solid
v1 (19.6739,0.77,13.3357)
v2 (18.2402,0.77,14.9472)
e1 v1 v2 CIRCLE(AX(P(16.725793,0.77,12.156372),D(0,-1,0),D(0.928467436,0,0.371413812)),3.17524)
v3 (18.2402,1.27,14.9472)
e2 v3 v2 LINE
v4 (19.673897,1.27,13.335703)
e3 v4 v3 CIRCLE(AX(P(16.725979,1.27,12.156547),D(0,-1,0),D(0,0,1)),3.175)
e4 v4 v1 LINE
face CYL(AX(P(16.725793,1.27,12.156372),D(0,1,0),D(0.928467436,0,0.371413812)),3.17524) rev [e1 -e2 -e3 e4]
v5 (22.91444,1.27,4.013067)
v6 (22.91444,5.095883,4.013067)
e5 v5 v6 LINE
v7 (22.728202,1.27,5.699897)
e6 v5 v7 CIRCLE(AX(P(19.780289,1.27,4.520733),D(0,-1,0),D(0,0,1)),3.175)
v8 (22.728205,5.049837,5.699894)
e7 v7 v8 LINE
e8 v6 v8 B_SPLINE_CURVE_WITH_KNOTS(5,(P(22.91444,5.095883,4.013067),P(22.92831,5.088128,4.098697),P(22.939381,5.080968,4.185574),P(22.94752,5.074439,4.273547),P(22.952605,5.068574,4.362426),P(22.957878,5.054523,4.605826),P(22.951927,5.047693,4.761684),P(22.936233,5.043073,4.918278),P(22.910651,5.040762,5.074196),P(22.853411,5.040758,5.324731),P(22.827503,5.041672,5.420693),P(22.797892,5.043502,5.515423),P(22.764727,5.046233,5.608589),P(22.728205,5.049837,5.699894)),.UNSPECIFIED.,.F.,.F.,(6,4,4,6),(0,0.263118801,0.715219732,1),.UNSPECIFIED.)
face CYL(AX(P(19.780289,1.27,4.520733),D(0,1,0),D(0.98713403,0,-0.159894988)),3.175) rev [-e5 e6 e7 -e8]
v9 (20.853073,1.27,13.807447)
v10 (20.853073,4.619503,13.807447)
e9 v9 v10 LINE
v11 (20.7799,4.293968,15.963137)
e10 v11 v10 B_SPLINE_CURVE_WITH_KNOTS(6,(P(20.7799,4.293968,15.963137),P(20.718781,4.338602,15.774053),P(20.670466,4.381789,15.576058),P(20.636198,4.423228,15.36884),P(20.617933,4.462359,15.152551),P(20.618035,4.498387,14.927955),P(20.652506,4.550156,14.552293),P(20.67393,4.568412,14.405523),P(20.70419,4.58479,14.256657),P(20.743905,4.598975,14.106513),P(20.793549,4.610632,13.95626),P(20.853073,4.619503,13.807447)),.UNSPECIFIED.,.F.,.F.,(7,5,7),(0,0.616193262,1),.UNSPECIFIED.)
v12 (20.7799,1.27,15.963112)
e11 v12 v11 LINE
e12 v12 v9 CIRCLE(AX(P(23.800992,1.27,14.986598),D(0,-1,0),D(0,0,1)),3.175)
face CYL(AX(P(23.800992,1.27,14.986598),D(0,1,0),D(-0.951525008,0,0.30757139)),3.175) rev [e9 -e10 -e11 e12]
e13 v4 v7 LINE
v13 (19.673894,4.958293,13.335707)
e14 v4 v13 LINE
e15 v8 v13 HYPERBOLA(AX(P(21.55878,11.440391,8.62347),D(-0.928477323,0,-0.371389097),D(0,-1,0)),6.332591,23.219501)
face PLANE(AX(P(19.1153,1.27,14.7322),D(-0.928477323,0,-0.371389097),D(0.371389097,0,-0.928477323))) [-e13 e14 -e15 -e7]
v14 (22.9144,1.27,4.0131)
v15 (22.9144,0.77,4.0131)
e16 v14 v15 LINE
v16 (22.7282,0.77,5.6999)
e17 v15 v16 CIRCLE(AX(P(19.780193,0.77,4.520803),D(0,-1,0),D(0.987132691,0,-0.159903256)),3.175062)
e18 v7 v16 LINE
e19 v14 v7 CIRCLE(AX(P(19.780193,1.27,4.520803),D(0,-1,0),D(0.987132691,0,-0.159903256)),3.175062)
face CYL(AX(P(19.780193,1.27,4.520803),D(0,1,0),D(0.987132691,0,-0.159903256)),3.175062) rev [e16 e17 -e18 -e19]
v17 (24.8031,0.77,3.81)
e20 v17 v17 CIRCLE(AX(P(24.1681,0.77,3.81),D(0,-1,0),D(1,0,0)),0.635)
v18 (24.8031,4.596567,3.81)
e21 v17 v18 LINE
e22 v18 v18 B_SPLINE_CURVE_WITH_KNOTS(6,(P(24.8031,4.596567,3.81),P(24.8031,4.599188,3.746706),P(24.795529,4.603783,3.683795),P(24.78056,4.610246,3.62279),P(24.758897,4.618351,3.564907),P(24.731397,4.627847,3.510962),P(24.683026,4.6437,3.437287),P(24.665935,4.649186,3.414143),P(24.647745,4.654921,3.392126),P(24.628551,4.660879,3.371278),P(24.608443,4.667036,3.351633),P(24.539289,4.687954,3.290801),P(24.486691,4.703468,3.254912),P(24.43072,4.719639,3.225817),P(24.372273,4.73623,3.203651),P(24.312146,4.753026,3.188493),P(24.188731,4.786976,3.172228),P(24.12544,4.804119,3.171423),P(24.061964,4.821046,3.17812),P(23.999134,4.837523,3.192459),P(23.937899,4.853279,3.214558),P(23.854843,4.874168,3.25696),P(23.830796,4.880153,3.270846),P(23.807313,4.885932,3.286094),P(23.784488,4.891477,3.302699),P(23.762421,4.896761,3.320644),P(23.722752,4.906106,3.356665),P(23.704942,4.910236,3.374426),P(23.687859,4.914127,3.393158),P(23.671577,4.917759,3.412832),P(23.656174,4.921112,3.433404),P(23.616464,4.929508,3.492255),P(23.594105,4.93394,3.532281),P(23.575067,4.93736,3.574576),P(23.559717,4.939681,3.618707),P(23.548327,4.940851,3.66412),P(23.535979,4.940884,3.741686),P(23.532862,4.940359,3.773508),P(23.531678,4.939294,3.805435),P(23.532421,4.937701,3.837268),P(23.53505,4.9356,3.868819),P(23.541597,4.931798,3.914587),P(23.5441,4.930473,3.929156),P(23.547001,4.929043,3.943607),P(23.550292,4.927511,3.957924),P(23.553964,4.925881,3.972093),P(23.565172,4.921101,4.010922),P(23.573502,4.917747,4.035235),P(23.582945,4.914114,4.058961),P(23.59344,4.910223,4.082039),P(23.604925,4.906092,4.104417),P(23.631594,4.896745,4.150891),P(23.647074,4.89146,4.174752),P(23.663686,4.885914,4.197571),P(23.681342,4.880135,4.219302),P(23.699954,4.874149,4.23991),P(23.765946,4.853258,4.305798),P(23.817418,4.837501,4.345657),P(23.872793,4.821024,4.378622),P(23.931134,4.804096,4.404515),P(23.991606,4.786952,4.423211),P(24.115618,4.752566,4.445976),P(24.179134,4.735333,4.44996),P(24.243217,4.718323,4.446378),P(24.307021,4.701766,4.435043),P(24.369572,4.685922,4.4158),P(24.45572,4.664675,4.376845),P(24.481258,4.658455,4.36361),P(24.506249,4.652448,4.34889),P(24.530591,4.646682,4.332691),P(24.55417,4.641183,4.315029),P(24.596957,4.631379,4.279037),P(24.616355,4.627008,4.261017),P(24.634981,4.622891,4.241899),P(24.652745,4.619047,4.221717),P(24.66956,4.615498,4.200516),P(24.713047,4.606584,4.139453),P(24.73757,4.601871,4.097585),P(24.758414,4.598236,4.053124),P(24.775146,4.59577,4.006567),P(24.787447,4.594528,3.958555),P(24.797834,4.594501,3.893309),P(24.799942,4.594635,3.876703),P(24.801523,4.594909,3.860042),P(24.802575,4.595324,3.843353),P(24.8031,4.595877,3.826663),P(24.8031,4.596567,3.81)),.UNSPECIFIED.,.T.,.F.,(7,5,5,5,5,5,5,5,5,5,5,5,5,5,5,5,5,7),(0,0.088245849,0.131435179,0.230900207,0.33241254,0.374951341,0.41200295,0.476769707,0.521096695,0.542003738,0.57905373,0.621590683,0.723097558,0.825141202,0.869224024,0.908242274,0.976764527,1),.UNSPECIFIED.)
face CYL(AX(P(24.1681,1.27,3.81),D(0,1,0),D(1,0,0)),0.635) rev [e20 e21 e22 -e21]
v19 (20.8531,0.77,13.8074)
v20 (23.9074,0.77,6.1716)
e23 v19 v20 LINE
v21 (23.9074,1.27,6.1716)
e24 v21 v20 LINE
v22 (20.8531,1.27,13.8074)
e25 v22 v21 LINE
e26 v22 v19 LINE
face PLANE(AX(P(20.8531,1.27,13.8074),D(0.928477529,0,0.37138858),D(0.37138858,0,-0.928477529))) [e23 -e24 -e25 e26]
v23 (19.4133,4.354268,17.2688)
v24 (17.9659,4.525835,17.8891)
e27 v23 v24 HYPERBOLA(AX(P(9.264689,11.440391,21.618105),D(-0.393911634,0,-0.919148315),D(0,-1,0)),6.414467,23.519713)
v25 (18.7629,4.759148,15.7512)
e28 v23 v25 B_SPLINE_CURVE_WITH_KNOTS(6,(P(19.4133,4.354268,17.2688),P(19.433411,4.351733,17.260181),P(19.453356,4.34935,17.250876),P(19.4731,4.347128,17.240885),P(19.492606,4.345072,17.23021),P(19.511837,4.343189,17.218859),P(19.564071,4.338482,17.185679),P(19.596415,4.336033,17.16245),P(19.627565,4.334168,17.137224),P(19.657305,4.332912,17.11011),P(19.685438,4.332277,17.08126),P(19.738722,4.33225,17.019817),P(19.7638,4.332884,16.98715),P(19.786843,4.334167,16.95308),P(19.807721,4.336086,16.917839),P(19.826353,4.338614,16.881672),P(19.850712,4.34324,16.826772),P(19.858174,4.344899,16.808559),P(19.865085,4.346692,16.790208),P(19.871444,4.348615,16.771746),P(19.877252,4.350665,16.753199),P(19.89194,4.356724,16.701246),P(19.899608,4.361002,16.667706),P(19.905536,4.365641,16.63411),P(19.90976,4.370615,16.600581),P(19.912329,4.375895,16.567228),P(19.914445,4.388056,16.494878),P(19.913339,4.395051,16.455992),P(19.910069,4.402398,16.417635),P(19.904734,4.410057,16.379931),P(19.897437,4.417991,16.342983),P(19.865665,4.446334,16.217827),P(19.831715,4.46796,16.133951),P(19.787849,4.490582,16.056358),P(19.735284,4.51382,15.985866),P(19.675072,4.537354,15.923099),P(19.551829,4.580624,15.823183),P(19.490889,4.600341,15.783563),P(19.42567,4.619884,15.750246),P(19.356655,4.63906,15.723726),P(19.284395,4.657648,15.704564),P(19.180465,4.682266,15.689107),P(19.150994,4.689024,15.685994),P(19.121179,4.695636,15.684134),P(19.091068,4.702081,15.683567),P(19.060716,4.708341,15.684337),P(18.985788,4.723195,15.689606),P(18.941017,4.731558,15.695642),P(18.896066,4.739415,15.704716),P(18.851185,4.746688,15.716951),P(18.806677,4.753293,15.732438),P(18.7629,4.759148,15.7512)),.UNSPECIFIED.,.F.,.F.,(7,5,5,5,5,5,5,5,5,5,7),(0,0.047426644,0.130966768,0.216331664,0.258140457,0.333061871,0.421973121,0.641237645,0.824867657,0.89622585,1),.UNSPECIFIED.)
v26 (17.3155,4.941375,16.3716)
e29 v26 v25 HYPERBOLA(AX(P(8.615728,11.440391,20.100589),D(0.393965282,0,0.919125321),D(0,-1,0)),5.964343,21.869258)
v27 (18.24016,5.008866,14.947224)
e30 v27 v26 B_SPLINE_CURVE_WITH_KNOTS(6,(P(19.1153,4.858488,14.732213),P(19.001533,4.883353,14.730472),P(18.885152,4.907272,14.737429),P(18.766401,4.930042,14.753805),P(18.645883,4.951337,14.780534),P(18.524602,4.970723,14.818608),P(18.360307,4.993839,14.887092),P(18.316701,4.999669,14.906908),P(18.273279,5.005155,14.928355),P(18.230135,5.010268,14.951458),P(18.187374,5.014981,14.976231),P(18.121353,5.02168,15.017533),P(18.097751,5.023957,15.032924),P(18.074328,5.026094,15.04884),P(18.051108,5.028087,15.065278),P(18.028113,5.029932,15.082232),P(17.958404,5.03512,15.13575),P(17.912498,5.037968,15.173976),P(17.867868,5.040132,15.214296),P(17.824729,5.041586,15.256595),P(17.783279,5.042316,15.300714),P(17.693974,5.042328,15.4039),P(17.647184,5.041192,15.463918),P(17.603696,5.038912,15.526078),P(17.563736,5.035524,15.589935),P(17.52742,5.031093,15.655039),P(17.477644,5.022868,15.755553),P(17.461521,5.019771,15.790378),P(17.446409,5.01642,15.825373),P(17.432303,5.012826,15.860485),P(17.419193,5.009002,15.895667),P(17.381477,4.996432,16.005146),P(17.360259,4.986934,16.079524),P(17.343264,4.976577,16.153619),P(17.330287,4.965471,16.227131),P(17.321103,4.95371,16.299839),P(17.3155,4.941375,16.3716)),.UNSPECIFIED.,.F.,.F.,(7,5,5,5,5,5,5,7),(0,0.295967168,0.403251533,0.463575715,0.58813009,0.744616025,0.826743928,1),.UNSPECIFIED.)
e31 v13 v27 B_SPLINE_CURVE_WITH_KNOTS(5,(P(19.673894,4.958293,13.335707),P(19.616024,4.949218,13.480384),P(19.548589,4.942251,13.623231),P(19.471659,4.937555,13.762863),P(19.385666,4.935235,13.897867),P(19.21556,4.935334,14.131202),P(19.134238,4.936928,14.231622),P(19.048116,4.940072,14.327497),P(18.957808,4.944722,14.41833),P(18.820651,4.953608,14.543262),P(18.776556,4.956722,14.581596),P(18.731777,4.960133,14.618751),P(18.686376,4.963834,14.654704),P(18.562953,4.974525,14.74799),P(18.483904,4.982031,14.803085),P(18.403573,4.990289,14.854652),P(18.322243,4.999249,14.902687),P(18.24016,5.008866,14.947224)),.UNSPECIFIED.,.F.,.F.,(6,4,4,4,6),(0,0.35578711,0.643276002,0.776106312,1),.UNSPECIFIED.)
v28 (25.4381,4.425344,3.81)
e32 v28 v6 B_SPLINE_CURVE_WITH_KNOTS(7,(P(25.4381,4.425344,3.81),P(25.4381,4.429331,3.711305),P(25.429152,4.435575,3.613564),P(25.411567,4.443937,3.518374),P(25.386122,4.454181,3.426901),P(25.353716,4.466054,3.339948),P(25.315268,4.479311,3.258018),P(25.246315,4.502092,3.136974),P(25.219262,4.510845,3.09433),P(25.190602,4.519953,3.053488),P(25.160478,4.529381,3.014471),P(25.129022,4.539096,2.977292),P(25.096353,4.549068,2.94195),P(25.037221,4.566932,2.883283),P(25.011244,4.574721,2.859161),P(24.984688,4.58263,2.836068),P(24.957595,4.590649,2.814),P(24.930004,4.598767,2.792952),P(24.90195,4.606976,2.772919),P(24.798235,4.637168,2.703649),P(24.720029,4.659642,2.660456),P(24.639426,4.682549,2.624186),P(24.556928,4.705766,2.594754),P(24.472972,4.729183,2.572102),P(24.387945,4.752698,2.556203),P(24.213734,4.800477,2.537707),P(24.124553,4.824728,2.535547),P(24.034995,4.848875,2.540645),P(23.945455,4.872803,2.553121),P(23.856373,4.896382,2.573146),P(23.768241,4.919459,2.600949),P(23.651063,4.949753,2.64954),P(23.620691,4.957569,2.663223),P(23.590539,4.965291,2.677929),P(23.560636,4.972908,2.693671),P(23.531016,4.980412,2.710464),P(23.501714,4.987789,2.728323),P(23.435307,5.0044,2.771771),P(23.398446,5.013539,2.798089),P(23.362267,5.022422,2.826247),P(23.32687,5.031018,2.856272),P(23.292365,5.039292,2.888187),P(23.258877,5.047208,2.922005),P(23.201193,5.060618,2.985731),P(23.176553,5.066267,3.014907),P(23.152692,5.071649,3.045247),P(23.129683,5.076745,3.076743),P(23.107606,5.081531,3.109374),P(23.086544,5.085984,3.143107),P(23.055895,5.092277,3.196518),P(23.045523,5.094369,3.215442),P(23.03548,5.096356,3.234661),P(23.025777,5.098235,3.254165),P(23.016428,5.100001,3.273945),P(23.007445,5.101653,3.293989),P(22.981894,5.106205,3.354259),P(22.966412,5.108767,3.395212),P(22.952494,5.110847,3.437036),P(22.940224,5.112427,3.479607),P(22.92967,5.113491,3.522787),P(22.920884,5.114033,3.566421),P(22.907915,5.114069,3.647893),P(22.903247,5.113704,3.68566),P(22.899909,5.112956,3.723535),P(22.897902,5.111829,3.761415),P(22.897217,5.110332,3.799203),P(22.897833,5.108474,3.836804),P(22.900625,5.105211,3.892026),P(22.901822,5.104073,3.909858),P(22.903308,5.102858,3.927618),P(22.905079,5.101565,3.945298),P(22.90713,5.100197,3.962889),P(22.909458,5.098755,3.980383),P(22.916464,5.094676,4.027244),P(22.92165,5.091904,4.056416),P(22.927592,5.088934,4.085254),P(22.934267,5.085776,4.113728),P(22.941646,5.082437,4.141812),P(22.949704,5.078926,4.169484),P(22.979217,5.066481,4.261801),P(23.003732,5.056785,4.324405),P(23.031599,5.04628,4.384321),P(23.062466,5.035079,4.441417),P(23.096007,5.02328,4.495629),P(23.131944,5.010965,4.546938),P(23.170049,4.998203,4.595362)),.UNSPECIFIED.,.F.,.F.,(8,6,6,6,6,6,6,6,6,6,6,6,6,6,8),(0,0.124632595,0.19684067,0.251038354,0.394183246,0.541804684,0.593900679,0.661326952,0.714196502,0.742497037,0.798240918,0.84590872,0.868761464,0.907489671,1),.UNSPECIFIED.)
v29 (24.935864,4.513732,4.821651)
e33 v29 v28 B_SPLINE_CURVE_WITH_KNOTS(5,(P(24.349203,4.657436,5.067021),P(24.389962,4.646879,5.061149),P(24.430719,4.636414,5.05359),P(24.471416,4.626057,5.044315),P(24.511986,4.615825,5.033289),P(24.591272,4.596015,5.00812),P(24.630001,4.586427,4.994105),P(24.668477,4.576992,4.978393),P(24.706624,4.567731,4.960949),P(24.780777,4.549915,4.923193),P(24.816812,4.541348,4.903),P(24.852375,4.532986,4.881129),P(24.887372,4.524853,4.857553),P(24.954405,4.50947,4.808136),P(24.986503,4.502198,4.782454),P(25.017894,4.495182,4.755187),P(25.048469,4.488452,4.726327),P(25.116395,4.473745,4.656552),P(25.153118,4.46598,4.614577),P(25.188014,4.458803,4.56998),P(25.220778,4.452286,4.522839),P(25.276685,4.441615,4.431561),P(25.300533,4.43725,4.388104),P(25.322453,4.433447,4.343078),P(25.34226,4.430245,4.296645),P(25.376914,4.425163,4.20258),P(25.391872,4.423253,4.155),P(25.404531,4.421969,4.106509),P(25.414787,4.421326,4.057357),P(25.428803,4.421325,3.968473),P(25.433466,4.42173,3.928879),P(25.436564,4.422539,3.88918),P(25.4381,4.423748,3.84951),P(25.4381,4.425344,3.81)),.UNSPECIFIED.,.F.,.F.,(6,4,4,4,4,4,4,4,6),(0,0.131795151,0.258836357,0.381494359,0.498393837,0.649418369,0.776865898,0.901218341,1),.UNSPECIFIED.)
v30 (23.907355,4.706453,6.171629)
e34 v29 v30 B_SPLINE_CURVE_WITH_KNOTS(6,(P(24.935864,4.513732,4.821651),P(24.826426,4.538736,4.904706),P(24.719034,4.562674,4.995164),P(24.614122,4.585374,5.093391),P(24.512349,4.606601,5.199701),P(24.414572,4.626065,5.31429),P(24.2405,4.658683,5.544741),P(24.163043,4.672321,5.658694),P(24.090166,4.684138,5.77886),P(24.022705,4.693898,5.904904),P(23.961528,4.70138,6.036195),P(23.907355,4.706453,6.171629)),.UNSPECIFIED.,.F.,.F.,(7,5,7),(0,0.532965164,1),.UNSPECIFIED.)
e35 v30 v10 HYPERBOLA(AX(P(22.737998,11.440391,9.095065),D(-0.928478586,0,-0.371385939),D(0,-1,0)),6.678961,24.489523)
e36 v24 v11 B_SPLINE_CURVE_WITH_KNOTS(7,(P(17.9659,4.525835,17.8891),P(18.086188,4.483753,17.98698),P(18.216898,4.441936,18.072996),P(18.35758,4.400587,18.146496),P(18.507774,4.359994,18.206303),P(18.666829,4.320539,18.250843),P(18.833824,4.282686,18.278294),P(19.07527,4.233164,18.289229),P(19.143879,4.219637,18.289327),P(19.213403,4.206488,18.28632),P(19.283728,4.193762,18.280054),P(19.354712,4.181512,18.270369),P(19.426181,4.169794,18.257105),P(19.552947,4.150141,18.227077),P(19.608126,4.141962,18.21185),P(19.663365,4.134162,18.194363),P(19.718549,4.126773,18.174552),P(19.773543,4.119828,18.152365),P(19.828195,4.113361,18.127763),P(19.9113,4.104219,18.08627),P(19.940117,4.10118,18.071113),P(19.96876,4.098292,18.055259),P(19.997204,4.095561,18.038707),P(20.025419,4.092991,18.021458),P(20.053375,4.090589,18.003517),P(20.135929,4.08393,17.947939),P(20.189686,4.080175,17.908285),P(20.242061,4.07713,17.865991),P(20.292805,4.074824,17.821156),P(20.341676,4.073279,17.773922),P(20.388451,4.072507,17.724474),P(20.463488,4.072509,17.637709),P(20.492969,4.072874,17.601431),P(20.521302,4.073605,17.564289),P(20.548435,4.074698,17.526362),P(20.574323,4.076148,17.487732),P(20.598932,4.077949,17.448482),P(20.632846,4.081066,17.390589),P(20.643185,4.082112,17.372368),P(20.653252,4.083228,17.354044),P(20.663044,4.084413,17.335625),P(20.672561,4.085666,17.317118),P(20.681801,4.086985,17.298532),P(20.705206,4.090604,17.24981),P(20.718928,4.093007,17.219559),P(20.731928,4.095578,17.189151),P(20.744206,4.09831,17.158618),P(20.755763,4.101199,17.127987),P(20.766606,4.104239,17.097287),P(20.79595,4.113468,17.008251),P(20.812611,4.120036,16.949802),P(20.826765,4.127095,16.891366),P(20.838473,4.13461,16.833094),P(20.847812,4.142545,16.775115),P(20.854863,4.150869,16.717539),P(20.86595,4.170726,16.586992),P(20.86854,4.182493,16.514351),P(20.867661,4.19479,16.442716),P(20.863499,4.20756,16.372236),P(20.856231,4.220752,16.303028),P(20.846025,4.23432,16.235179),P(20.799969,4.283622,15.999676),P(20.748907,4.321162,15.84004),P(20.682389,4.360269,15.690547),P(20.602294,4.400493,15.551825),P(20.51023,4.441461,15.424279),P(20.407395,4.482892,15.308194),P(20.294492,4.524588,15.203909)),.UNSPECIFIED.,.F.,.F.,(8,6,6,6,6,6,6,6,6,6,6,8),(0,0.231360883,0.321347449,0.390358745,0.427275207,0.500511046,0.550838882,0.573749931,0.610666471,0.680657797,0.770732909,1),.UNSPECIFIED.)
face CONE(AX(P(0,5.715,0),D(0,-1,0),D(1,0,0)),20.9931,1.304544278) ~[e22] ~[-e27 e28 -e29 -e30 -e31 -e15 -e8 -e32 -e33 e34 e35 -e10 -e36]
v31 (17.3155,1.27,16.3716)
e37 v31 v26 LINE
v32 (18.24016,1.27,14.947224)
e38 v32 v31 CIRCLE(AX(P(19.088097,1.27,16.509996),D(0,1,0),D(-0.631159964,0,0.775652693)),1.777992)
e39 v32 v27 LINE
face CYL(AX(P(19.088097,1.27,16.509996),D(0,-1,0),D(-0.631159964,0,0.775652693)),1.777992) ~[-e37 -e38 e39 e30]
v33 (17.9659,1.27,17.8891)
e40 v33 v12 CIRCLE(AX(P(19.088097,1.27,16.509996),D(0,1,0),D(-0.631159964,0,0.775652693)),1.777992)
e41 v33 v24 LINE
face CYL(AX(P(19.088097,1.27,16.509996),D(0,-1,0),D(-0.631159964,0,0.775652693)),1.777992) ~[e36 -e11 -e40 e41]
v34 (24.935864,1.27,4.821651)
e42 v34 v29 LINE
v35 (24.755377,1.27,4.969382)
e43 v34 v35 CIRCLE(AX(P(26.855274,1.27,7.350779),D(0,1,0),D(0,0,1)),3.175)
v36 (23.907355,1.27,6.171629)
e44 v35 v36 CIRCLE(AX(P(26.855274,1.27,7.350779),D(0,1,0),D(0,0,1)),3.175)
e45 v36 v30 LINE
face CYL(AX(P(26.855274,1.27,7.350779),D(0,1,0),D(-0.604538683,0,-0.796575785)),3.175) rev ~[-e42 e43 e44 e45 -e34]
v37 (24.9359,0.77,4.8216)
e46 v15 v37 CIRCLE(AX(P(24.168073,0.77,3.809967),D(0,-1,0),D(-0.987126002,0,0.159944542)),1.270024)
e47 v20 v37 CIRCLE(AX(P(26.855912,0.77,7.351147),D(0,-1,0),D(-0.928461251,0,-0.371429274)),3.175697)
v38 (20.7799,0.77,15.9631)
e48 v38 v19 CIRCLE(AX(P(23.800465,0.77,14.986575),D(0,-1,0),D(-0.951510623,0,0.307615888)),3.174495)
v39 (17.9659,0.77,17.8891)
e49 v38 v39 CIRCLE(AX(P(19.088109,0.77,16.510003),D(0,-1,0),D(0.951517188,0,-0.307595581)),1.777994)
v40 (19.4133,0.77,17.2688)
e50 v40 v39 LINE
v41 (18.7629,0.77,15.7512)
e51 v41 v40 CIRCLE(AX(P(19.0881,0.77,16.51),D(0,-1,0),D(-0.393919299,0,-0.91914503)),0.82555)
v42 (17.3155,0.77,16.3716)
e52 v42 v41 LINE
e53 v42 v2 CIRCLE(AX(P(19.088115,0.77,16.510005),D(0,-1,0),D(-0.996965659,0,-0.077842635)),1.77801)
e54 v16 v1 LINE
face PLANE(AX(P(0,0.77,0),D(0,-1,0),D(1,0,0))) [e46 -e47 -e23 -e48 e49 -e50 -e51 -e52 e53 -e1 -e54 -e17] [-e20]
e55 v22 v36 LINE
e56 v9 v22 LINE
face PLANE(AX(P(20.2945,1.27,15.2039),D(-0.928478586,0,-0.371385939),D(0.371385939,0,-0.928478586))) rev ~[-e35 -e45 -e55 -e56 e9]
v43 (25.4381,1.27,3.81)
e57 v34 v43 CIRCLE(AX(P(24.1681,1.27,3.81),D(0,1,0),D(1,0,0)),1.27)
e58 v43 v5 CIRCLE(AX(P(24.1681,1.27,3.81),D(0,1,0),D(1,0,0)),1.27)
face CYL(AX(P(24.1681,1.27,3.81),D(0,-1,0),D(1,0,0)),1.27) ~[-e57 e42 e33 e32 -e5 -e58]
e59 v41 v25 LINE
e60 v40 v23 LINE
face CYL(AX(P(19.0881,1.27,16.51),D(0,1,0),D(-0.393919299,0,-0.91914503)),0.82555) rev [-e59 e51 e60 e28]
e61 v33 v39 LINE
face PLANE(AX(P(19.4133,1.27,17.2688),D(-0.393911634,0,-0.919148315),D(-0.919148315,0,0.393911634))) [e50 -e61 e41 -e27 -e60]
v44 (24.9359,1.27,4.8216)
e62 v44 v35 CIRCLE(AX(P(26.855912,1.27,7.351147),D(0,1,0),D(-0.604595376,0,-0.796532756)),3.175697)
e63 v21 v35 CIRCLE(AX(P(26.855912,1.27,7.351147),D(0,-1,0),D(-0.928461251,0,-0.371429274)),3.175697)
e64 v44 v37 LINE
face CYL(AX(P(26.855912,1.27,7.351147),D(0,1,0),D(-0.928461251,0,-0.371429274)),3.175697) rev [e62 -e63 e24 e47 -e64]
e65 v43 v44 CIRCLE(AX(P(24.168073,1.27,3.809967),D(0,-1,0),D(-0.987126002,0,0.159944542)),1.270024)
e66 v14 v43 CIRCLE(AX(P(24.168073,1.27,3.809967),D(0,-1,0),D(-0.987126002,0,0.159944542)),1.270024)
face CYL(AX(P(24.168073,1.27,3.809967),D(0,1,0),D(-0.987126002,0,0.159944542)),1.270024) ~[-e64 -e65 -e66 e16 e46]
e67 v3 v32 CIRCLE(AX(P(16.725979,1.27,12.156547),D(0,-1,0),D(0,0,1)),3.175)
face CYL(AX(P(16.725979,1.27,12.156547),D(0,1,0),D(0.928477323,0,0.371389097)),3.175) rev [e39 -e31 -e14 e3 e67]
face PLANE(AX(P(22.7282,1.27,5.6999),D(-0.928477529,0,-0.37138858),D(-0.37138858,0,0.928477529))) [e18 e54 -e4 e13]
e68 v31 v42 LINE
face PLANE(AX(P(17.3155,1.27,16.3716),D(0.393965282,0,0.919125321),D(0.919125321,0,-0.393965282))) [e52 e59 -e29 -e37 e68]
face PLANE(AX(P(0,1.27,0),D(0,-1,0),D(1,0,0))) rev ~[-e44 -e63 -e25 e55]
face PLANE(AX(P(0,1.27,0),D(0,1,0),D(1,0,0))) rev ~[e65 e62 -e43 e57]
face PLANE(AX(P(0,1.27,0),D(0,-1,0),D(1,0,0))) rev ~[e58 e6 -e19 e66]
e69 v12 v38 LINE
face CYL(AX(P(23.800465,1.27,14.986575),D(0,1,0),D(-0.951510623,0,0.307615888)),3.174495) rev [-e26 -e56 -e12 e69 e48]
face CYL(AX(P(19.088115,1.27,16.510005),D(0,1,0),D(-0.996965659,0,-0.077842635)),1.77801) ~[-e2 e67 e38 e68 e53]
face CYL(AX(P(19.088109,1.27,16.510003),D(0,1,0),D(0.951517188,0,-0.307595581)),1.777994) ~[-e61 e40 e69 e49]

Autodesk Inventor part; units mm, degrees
ref_plane "YZ Plane" through (0, 0, 0) normal (1, 0, 0) x (0, 1, 0)
ref_plane "XZ Plane" through (0, 0, 0) normal (0, 1, 0) x (-1, 0, 0)
sketch "Sketch1" plane through (0, 0, 0) normal (0, 0, 1) x (1, 0, 0)
  line L0 (0, 0) -> (0, 8.6646) construction
  line L1 (20.9931, 1.27) -> (20.9931, 5.715)
  line L2 (20.9931, 5.715) -> (27.9781, 3.81)
  line L3 (27.9781, 3.81) -> (27.9781, 0)
  line L4 (27.9781, 0) -> (20.9931, 0)
  line L5 (20.9931, 1.27) -> (18.4531, 1.27)
  line L6 (18.4531, 1.27) -> (18.4531, 0)
  line L7 (18.4531, 0) -> (20.9931, 0)
  dimension "d0" = 20.9931
  dimension "d1" = 4.445
  dimension "d2" = 1.27
  dimension "d3" = 2.54
  dimension "d4" = 3.81
  dimension "d5" = 6.985
revolve "Revolution1" add sketch "Sketch1" angle 360 about axis through (0, 0, 0) along (0, 1, 0)
ref_plane "Work Plane1" through (0, 3.81, 0) normal (0, 1, 0) x (1, 0, 0)
sketch "Sketch2" plane through (0, 0, 0) normal (0, -1, 0) x (1, 0, 0)
  line L0 (0, 0) -> (-45.8206, 0) construction
  circle A0 centre (0, 0) radius 27.9781 projected
  line L1 (-27.6227, 4.445) -> (-30.5181, 2.54)
  line L2 (-30.5181, 2.54) -> (-30.5181, -2.54)
  line L3 (-30.5181, -2.54) -> (-27.6227, -4.445)
  dimension "d7" = 2.54
  dimension "d8" = 8.89
  dimension "d9" = 5.08
extrude "Extrusion1" add sketch "Sketch2" against normal up to surface (3.81 mm away) contours A0 L3 L2 L1
pattern_circular "Circular Pattern1" count 12 over 360 about axis through (0, 1.905, 0) along (0, -1, 0) of "Extrusion1"
sketch "Sketch3" plane through (0, 1.27, 0) normal (0, 1, 0) x (1, 0, 0)
  circle A0 centre (0, 0) radius 18.4531 projected
  circle A1 centre (0, 0) radius 18.4531 projected
  circle A2 centre (0, 0) radius 20.9931 projected
  circle A3 centre (0, 0) radius 20.9931 projected
  arc A4 (-26.1445, 9.9619) -> (-27.6227, 4.445) centre (0, 0) ccw projected
  arc A5 (-27.6227, 4.445) -> (-27.6227, -4.445) centre (0, 0) ccw projected
  arc A6 (-27.6227, -4.445) -> (-26.1445, -9.9619) centre (0, 0) ccw projected
  arc A7 (-26.1445, -9.9619) -> (-21.6995, -17.6609) centre (0, 0) ccw projected
  arc A8 (-21.6995, -17.6609) -> (-17.6609, -21.6995) centre (0, 0) ccw projected
  arc A9 (-17.6609, -21.6995) -> (-9.9619, -26.1445) centre (0, 0) ccw projected
  arc A10 (-9.9619, -26.1445) -> (-4.445, -27.6227) centre (0, 0) ccw projected
  arc A11 (-4.445, -27.6227) -> (4.445, -27.6227) centre (0, 0) ccw projected
  arc A12 (4.445, -27.6227) -> (9.9619, -26.1445) centre (0, 0) ccw projected
  arc A13 (9.9619, -26.1445) -> (17.6609, -21.6995) centre (0, 0) ccw projected
  arc A14 (17.6609, -21.6995) -> (21.6995, -17.6609) centre (0, 0) ccw projected
  arc A15 (21.6995, -17.6609) -> (26.1445, -9.9619) centre (0, 0) ccw projected
  arc A16 (26.1445, -9.9619) -> (27.6227, -4.445) centre (0, 0) ccw projected
  arc A17 (27.6227, -4.445) -> (27.6227, 4.445) centre (0, 0) ccw projected
  arc A18 (27.6227, 4.445) -> (26.1445, 9.9619) centre (0, 0) ccw projected
  arc A19 (26.1445, 9.9619) -> (21.6995, 17.6609) centre (0, 0) ccw projected
  arc A20 (21.6995, 17.6609) -> (17.6609, 21.6995) centre (0, 0) ccw projected
  arc A21 (17.6609, 21.6995) -> (9.9619, 26.1445) centre (0, 0) ccw projected
  arc A22 (9.9619, 26.1445) -> (4.445, 27.6227) centre (0, 0) ccw projected
  arc A23 (4.445, 27.6227) -> (-4.445, 27.6227) centre (0, 0) ccw projected
  arc A24 (-4.445, 27.6227) -> (-9.9619, 26.1445) centre (0, 0) ccw projected
  arc A25 (-9.9619, 26.1445) -> (-17.6609, 21.6995) centre (0, 0) ccw projected
  arc A26 (-17.6609, 21.6995) -> (-21.6995, 17.6609) centre (0, 0) ccw projected
  arc A27 (-21.6995, 17.6609) -> (-26.1445, 9.9619) centre (0, 0) ccw projected
  circle A28 centre (0, 0) radius 22.8981
  spline S0 degree 2 poles (-20.4865, -10.8927) (-20.2314, -10.7347) (-20.0767, -10.9844) knots 0 0 0 1 1 1
  spline S1 degree 2 poles (-20.0767, -10.9844) (-19.9219, -11.2342) (-20.177, -11.3922) knots 0 0 0 1 1 1
  line L0 (-20.177, -11.3922) -> (-22.4984, -12.8306)
  line L1 (-22.4984, -12.8306) -> (-21.0657, -12.8234)
  spline S2 degree 2 poles (-21.0657, -12.8234) (-20.8353, -12.8371) (-20.7343, -13.0001) knots 0 0 0 1 1 1
  spline S3 degree 2 poles (-20.7343, -13.0001) (-20.6366, -13.1578) (-20.7235, -13.3463) knots 0 0 0 1 1 1
  line L2 (-20.7235, -13.3463) -> (-21.4078, -14.6436)
  line L3 (-21.4078, -14.6436) -> (-19.0627, -13.1905)
  spline S4 degree 2 poles (-19.0627, -13.1905) (-18.8077, -13.0325) (-18.6529, -13.2822) knots 0 0 0 1 1 1
  spline S5 degree 2 poles (-18.6529, -13.2822) (-18.4949, -13.5373) (-18.7499, -13.6953) knots 0 0 0 1 1 1
  line L4 (-18.7499, -13.6953) -> (-21.6577, -15.497)
  spline S6 degree 2 poles (-21.6577, -15.497) (-21.9259, -15.6631) (-22.0936, -15.3923) knots 0 0 0 1 1 1
  spline S7 degree 2 poles (-22.0936, -15.3923) (-22.2093, -15.2057) (-22.1246, -15.0076) knots 0 0 0 1 1 1
  line L5 (-22.1246, -15.0076) -> (-21.3965, -13.3994)
  line L6 (-21.3965, -13.3994) -> (-23.1279, -13.3298)
  spline S8 degree 2 poles (-23.1279, -13.3298) (-23.414, -13.3142) (-23.5248, -13.1355) knots 0 0 0 1 1 1
  spline S9 degree 2 poles (-23.5248, -13.1355) (-23.5932, -13.025) (-23.5178, -12.7709) (-23.3942, -12.6944) knots 0 0 0 1 2 2 2
  line L7 (-23.3942, -12.6944) -> (-20.4865, -10.8927)
  line L8 (-21.4115, -8.1592) -> (-20.6563, -9.942)
  line L9 (-20.6563, -9.942) -> (-23.6894, -11.2268)
  line L10 (-23.6894, -11.2268) -> (-24.4445, -9.444)
  spline S10 degree 2 poles (-24.4445, -9.444) (-24.5591, -9.1734) (-24.2914, -9.06) knots 0 0 0 1 1 1
  spline S11 degree 2 poles (-24.2914, -9.06) (-24.0209, -8.9454) (-23.9063, -9.216) knots 0 0 0 1 1 1
  line L11 (-23.9063, -9.216) -> (-23.3743, -10.4719)
  line L12 (-23.3743, -10.4719) -> (-22.8189, -10.2367)
  line L13 (-22.8189, -10.2367) -> (-23.3171, -9.0605)
  spline S12 degree 2 poles (-23.3171, -9.0605) (-23.4293, -8.7956) (-23.1616, -8.6822) knots 0 0 0 1 1 1
  spline S13 degree 2 poles (-23.1616, -8.6822) (-22.8854, -8.5652) (-22.7732, -8.8301) knots 0 0 0 1 1 1
  line L14 (-22.7732, -8.8301) -> (-22.275, -10.0063)
  line L15 (-22.275, -10.0063) -> (-21.4235, -9.6456)
  line L16 (-21.4235, -9.6456) -> (-21.9554, -8.3897)
  spline S14 degree 2 poles (-21.9554, -8.3897) (-22.07, -8.1191) (-21.8023, -8.0057) knots 0 0 0 1 1 1
  spline S15 degree 2 poles (-21.8023, -8.0057) (-21.5261, -7.8887) (-21.4115, -8.1592) knots 0 0 0 1 1 1
  spline S16 degree 2 poles (-22.8056, -5.2377) (-22.4484, -5.3877) (-22.1014, -5.7752) (-22.015, -6.0818) knots 0 0 0 1 2 2 2
  spline S17 degree 2 poles (-22.015, -6.0818) (-21.8732, -6.5849) (-22.313, -7.0655) knots 0 0 0 1 1 1
  spline S18 degree 2 poles (-22.313, -7.0655) (-22.5945, -7.4918) (-23.3387, -7.7016) knots 0 0 0 1 1 1
  spline S19 degree 2 poles (-23.3387, -7.7016) (-24.1544, -7.9314) (-24.69, -7.6614) knots 0 0 0 1 1 1
  spline S20 degree 2 poles (-24.69, -7.6614) (-25.1213, -7.4423) (-25.2479, -6.9928) knots 0 0 0 1 1 1
  spline S21 degree 2 poles (-25.2479, -6.9928) (-25.3444, -6.6505) (-25.2198, -6.1462) (-24.9563, -5.8953) knots 0 0 0 1 2 2 2
  spline S22 degree 2 poles (-24.9563, -5.8953) (-24.9018, -5.8381) (-24.8303, -5.818) knots 0 0 0 1 1 1
  spline S23 degree 2 poles (-24.8303, -5.818) (-24.7112, -5.7844) (-24.4997, -5.908) (-24.4678, -6.0211) knots 0 0 0 1 2 2 2
  spline S24 degree 2 poles (-24.4678, -6.0211) (-24.4242, -6.1759) (-24.5806, -6.3164) knots 0 0 0 1 1 1
  spline S25 degree 2 poles (-24.5806, -6.3164) (-24.7683, -6.517) (-24.6827, -6.8207) knots 0 0 0 1 1 1
  spline S26 degree 2 poles (-24.6827, -6.8207) (-24.6139, -7.0648) (-24.3475, -7.1664) knots 0 0 0 1 1 1
  spline S27 degree 2 poles (-24.3475, -7.1664) (-24.0157, -7.2947) (-23.4948, -7.1479) knots 0 0 0 1 1 1
  spline S28 degree 2 poles (-23.4948, -7.1479) (-23.0095, -7.0111) (-22.5148, -6.4861) (-22.587, -6.2301) knots 0 0 0 1 2 2 2
  spline S29 degree 2 poles (-22.587, -6.2301) (-22.6767, -5.9116) (-22.9983, -5.774) knots 0 0 0 1 1 1
  spline S30 degree 2 poles (-22.9983, -5.774) (-23.1807, -5.7194) (-23.2168, -5.5914) knots 0 0 0 1 1 1
  spline S31 degree 2 poles (-23.2168, -5.5914) (-23.2487, -5.4783) (-23.1196, -5.2523) (-23.0064, -5.2204) knots 0 0 0 1 2 2 2
  spline S32 degree 2 poles (-23.0064, -5.2204) (-22.9082, -5.1928) (-22.8056, -5.2377) knots 0 0 0 1 1 1
  spline S33 degree 2 poles (-23.0841, -2.194) (-22.7873, -2.1504) (-22.7455, -2.435) knots 0 0 0 1 1 1
  spline S34 degree 2 poles (-22.7455, -2.435) (-22.7028, -2.7257) (-22.9996, -2.7693) knots 0 0 0 1 1 1
  line L17 (-22.9996, -2.7693) -> (-24.1563, -2.9392)
  line L18 (-24.1563, -2.9392) -> (-23.9877, -4.0867)
  line L19 (-23.9877, -4.0867) -> (-22.8311, -3.9168)
  spline S35 degree 2 poles (-22.8311, -3.9168) (-22.5342, -3.8732) (-22.4915, -4.1639) knots 0 0 0 1 1 1
  spline S36 degree 2 poles (-22.4915, -4.1639) (-22.4488, -4.4546) (-22.7456, -4.4982) knots 0 0 0 1 1 1
  line L20 (-22.7456, -4.4982) -> (-25.4599, -4.8969)
  spline S37 degree 2 poles (-25.4599, -4.8969) (-25.7536, -4.9401) (-25.7963, -4.6494) knots 0 0 0 1 1 1
  spline S38 degree 2 poles (-25.7963, -4.6494) (-25.839, -4.3587) (-25.5453, -4.3155) knots 0 0 0 1 1 1
  line L21 (-25.5453, -4.3155) -> (-24.5722, -4.1726)
  line L22 (-24.5722, -4.1726) -> (-24.7408, -3.0251)
  line L23 (-24.7408, -3.0251) -> (-25.7139, -3.168)
  spline S39 degree 2 poles (-25.7139, -3.168) (-26.0076, -3.2112) (-26.0503, -2.9205) knots 0 0 0 1 1 1
  spline S40 degree 2 poles (-26.0503, -2.9205) (-26.0921, -2.6359) (-25.7984, -2.5928) knots 0 0 0 1 1 1
  line L24 (-25.7984, -2.5928) -> (-23.0841, -2.194)
  spline S41 degree 2 poles (-23.2836, 1.208) (-23.2064, 1.2364) (-23.1539, 1.2367) knots 0 0 0 1 1 1
  spline S42 degree 2 poles (-23.1539, 1.2367) (-23.0302, 1.2375) (-22.8651, 1.053) (-22.8643, 0.9323) knots 0 0 0 1 2 2 2
  spline S43 degree 2 poles (-22.8643, 0.9323) (-22.8631, 0.7437) (-23.042, 0.6683) knots 0 0 0 1 1 1
  line L25 (-23.042, 0.6683) -> (-23.4523, 0.5049)
  line L26 (-23.4523, 0.5049) -> (-23.4439, -0.8127)
  line L27 (-23.4439, -0.8127) -> (-23.0192, -0.9677)
  spline S44 degree 2 poles (-23.0192, -0.9677) (-22.8518, -1.0347) (-22.8505, -1.2295) knots 0 0 0 1 1 1
  spline S45 degree 2 poles (-22.8505, -1.2295) (-22.8498, -1.3439) (-23.0064, -1.5305) (-23.1301, -1.5313) knots 0 0 0 1 2 2 2
  spline S46 degree 2 poles (-23.1301, -1.5313) (-23.1826, -1.5316) (-23.2322, -1.5134) knots 0 0 0 1 1 1
  line L28 (-23.2322, -1.5134) -> (-26.0565, -0.4767)
  spline S47 degree 2 poles (-26.0565, -0.4767) (-26.2212, -0.3571) (-26.2222, -0.1963) knots 0 0 0 1 1 1
  spline S48 degree 2 poles (-26.2222, -0.1963) (-26.2233, -0.0262) (-26.0632, 0.0924) knots 0 0 0 1 1 1
  line L29 (-26.0632, 0.0924) -> (-23.2836, 1.208)
  line L30 (-24.0233, 0.3126) -> (-25.2852, -0.1749)
  line L31 (-25.2852, -0.1749) -> (-24.0173, -0.6307)
  line L32 (-24.0173, -0.6307) -> (-24.0233, 0.3126)
  spline S49 degree 2 poles (-22.7917, 4.2665) (-22.4883, 4.2255) (-22.5223, 3.9742) knots 0 0 0 1 1 1
  spline S50 degree 2 poles (-22.5223, 3.9742) (-22.5451, 3.8056) (-22.7963, 3.7022) knots 0 0 0 1 1 1
  line L33 (-22.7963, 3.7022) -> (-24.9996, 2.6644)
  line L34 (-24.9996, 2.6644) -> (-23.038, 2.3991)
  spline S51 degree 2 poles (-23.038, 2.3991) (-22.7407, 2.3589) (-22.7793, 2.0739) knots 0 0 0 1 1 1
  spline S52 degree 2 poles (-22.7793, 2.0739) (-22.8178, 1.7888) (-23.1151, 1.8291) knots 0 0 0 1 1 1
  line L35 (-23.1151, 1.8291) -> (-25.8582, 2.2)
  spline S53 degree 2 poles (-25.8582, 2.2) (-26.1463, 2.239) (-26.109, 2.5148) knots 0 0 0 1 1 1
  spline S54 degree 2 poles (-26.109, 2.5148) (-26.0867, 2.6803) (-25.9475, 2.6709) knots 0 0 0 1 1 1
  line L36 (-25.9475, 2.6709) -> (-23.6718, 3.805)
  line L37 (-23.6718, 3.805) -> (-25.5813, 4.0632)
  spline S55 degree 2 poles (-25.5813, 4.0632) (-25.8755, 4.103) (-25.837, 4.3881) knots 0 0 0 1 1 1
  spline S56 degree 2 poles (-25.837, 4.3881) (-25.7984, 4.6731) (-25.5042, 4.6333) knots 0 0 0 1 1 1
  line L38 (-25.5042, 4.6333) -> (-22.7917, 4.2665)
  spline S57 degree 2 poles (-22.4654, 5.6266) (-22.1736, 5.5569) (-22.2419, 5.2711) knots 0 0 0 1 1 1
  spline S58 degree 2 poles (-22.2419, 5.2711) (-22.3101, 4.9853) (-22.6019, 5.055) knots 0 0 0 1 1 1
  line L39 (-22.6019, 5.055) -> (-25.2702, 5.6925)
  spline S59 degree 2 poles (-25.2702, 5.6925) (-25.559, 5.7615) (-25.4907, 6.0473) knots 0 0 0 1 1 1
  spline S60 degree 2 poles (-25.4907, 6.0473) (-25.4224, 6.3331) (-25.1336, 6.2641) knots 0 0 0 1 1 1
  line L40 (-25.1336, 6.2641) -> (-22.4654, 5.6266)
  spline S61 degree 2 poles (-21.7348, 8.6674) (-21.5264, 8.3409) (-21.4615, 7.8248) (-21.5649, 7.5235) knots 0 0 0 1 2 2 2
  spline S62 degree 2 poles (-21.5649, 7.5235) (-21.7346, 7.0291) (-22.3696, 6.8841) knots 0 0 0 1 1 1
  spline S63 degree 2 poles (-22.3696, 6.8841) (-22.8437, 6.6936) (-23.5751, 6.9445) knots 0 0 0 1 1 1
  spline S64 degree 2 poles (-23.5751, 6.9445) (-24.3766, 7.2196) (-24.6635, 7.7463) knots 0 0 0 1 1 1
  spline S65 degree 2 poles (-24.6635, 7.7463) (-24.8935, 8.1719) (-24.7419, 8.6136) knots 0 0 0 1 1 1
  spline S66 degree 2 poles (-24.7419, 8.6136) (-24.6265, 8.95) (-24.2371, 9.2938) (-23.8777, 9.3503) knots 0 0 0 1 2 2 2
  spline S67 degree 2 poles (-23.8777, 9.3503) (-23.8003, 9.3663) (-23.7301, 9.3422) knots 0 0 0 1 1 1
  spline S68 degree 2 poles (-23.7301, 9.3422) (-23.6131, 9.3021) (-23.5094, 9.0801) (-23.5475, 8.9689) knots 0 0 0 1 2 2 2
  spline S69 degree 2 poles (-23.5475, 8.9689) (-23.5997, 8.8168) (-23.8083, 8.7903) knots 0 0 0 1 1 1
  spline S70 degree 2 poles (-23.8083, 8.7903) (-24.0768, 8.732) (-24.1792, 8.4336) knots 0 0 0 1 1 1
  spline S71 degree 2 poles (-24.1792, 8.4336) (-24.2615, 8.1937) (-24.1002, 7.9585) knots 0 0 0 1 1 1
  spline S72 degree 2 poles (-24.1002, 7.9585) (-23.9003, 7.6643) (-23.3884, 7.4887) knots 0 0 0 1 1 1
  spline S73 degree 2 poles (-23.3884, 7.4887) (-22.9115, 7.3251) (-22.206, 7.4754) (-22.1197, 7.7269) knots 0 0 0 1 2 2 2
  spline S74 degree 2 poles (-22.1197, 7.7269) (-22.0123, 8.04) (-22.1984, 8.336) knots 0 0 0 1 1 1
  spline S75 degree 2 poles (-22.1984, 8.336) (-22.3174, 8.4847) (-22.2743, 8.6105) knots 0 0 0 1 1 1
  spline S76 degree 2 poles (-22.2743, 8.6105) (-22.2361, 8.7217) (-22.0014, 8.8341) (-21.8902, 8.7959) knots 0 0 0 1 2 2 2
  spline S77 degree 2 poles (-21.8902, 8.7959) (-21.7937, 8.7628) (-21.7348, 8.6674) knots 0 0 0 1 1 1
  spline S78 degree 2 poles (-20.1702, 11.694) (-20.0886, 11.684) (-20.0417, 11.6603) knots 0 0 0 1 1 1
  spline S79 degree 2 poles (-20.0417, 11.6603) (-19.9312, 11.6046) (-19.8684, 11.3651) (-19.9228, 11.2574) knots 0 0 0 1 2 2 2
  spline S80 degree 2 poles (-19.9228, 11.2574) (-20.0077, 11.0889) (-20.2013, 11.1035) knots 0 0 0 1 1 1
  line L41 (-20.2013, 11.1035) -> (-20.641, 11.1451)
  line L42 (-20.641, 11.1451) -> (-21.2344, 9.9688)
  line L43 (-21.2344, 9.9688) -> (-20.9272, 9.6371)
  spline S81 degree 2 poles (-20.9272, 9.6371) (-20.8087, 9.5011) (-20.8965, 9.3272) knots 0 0 0 1 1 1
  spline S82 degree 2 poles (-20.8965, 9.3272) (-20.948, 9.225) (-21.1724, 9.1304) (-21.2829, 9.1861) knots 0 0 0 1 2 2 2
  spline S83 degree 2 poles (-21.2829, 9.1861) (-21.3298, 9.2098) (-21.3656, 9.2486) knots 0 0 0 1 1 1
  line L44 (-21.3656, 9.2486) -> (-23.4063, 11.4593)
  spline S84 degree 2 poles (-23.4063, 11.4593) (-23.4983, 11.6408) (-23.4258, 11.7844) knots 0 0 0 1 1 1
  spline S85 degree 2 poles (-23.4258, 11.7844) (-23.3492, 11.9363) (-23.1527, 11.9688) knots 0 0 0 1 1 1
  line L45 (-23.1527, 11.9688) -> (-20.1702, 11.694)
  line L46 (-21.2369, 11.2344) -> (-22.5822, 11.3761)
  line L47 (-22.5822, 11.3761) -> (-21.6617, 10.3922)
  line L48 (-21.6617, 10.3922) -> (-21.2369, 11.2344)
  line L49 (-18.3775, 13.6927) -> (-19.469, 12.0936)
  line L50 (-19.469, 12.0936) -> (-21.9443, 13.7831)
  spline S86 degree 2 poles (-21.9443, 13.7831) (-22.1896, 13.9505) (-22.0274, 14.188) knots 0 0 0 1 1 1
  spline S87 degree 2 poles (-22.0274, 14.188) (-21.867, 14.4231) (-21.6218, 14.2557) knots 0 0 0 1 1 1
  line L51 (-21.6218, 14.2557) -> (-19.6343, 12.8992)
  line L52 (-19.6343, 12.8992) -> (-18.8654, 14.0258)
  spline S88 degree 2 poles (-18.8654, 14.0258) (-18.6998, 14.2684) (-18.4597, 14.1045) knots 0 0 0 1 1 1
  spline S89 degree 2 poles (-18.4597, 14.1045) (-18.2119, 13.9354) (-18.3775, 13.6927) knots 0 0 0 1 1 1
  dimension "d16" = 1.905
extrude "Extrusion2" cut sketch "Sketch3" along normal blind 25.4 contours S5 L4 S6 S7 L5 L6 S8 S9 L7 S0 A28 S1 L0 L1 S2 S3 L2 L3 S4 | L8 L9 L10 S10 S11 L11 L12 L13 S12 S13 L14 L15 L16 S14 S15 | L49 L50 S86 S87 L51 L52 S88 S89 | A28 S0 S1 | S79 S80 A28 | A28 S80 L41 L42 L43 S81 S82 S83 L44 S84 S85 L45 S78 S79 | S17 S18 S19 S20 S21 S22 S23 S24 S25 S26 S27 S28 S29 S30 S31 S32 S16 A28 | A28 S16 S17 | S81 S82 A28 | S36 L20 S37 S38 L21 L22 L23 S39 S40 L24 S33 A28 S34 L17 L18 L19 S35 | A28 S35 S36 | S61 S62 A28 | A28 S62 S63 S64 S65 S66 S67 S68 S69 S70 S71 S72 S73 S74 S75 S76 S77 S61 | A28 S33 S34 | S57 S58 A28 | A28 S58 L39 S59 S60 L40 S57 | S45 S46 L28 S47 S48 L29 S41 S42 A28 S43 L25 L26 L27 S44 | A28 S44 S45 | S49 S50 A28 | A28 S50 L33 L34 S51 S52 L35 S53 S54 L36 L37 S55 S56 L38 S49 | A28 S42 S43 | S51 S52 A28
sketch "Sketch4" plane through (0, 1.27, 0) normal (0, 1, 0) x (1, 0, 0)
  line L0 (-22.7963, 3.7022) -> (-24.9996, 2.6644) projected
  line L1 (-24.9996, 2.6644) -> (-23.038, 2.3991) projected
  line L2 (-23.1151, 1.8291) -> (-25.8582, 2.2) projected
  line L3 (-25.9475, 2.6709) -> (-23.6718, 3.805) projected
  line L4 (-23.6718, 3.805) -> (-25.5813, 4.0632) projected
  line L5 (-25.5042, 4.6333) -> (-22.7917, 4.2665) projected
  line L6 (-23.042, 0.6683) -> (-23.4523, 0.5049) projected
  line L7 (-23.4523, 0.5049) -> (-23.4439, -0.8127) projected
  line L8 (-23.4439, -0.8127) -> (-23.0192, -0.9677) projected
  line L9 (-23.2322, -1.5134) -> (-26.0565, -0.4767) projected
  line L10 (-26.0632, 0.0924) -> (-23.2836, 1.208) projected
  line L11 (-20.177, -11.3922) -> (-22.4984, -12.8306) projected
  line L12 (-22.4984, -12.8306) -> (-21.0657, -12.8234) projected
  line L13 (-20.7235, -13.3463) -> (-21.4078, -14.6436) projected
  line L14 (-21.4078, -14.6436) -> (-19.0627, -13.1905) projected
  line L15 (-18.7499, -13.6953) -> (-21.6577, -15.497) projected
  line L16 (-22.1246, -15.0076) -> (-21.3965, -13.3994) projected
  line L17 (-21.3965, -13.3994) -> (-23.1279, -13.3298) projected
  line L18 (-23.3942, -12.6944) -> (-20.4865, -10.8927) projected
  line L19 (-20.6563, -9.942) -> (-23.6894, -11.2268) projected
  line L20 (-23.6894, -11.2268) -> (-24.4445, -9.444) projected
  line L21 (-23.9063, -9.216) -> (-23.3743, -10.4719) projected
  line L22 (-23.3743, -10.4719) -> (-22.8189, -10.2367) projected
  line L23 (-22.8189, -10.2367) -> (-23.3171, -9.0605) projected
  line L24 (-22.7732, -8.8301) -> (-22.275, -10.0063) projected
  line L25 (-22.275, -10.0063) -> (-21.4235, -9.6456) projected
  line L26 (-21.4235, -9.6456) -> (-21.9554, -8.3897) projected
  line L27 (-21.4115, -8.1592) -> (-20.6563, -9.942) projected
  line L28 (-22.9996, -2.7693) -> (-24.1563, -2.9392) projected
  line L29 (-24.1563, -2.9392) -> (-23.9877, -4.0867) projected
  line L30 (-23.9877, -4.0867) -> (-22.8311, -3.9168) projected
  line L31 (-22.7456, -4.4982) -> (-25.4599, -4.8969) projected
  line L32 (-25.5453, -4.3155) -> (-24.5722, -4.1726) projected
  line L33 (-24.5722, -4.1726) -> (-24.7408, -3.0251) projected
  line L34 (-24.7408, -3.0251) -> (-25.7139, -3.168) projected
  line L35 (-25.7984, -2.5928) -> (-23.0841, -2.194) projected
  line L36 (-22.6019, 5.055) -> (-25.2702, 5.6925) projected
  line L37 (-25.1336, 6.2641) -> (-22.4654, 5.6266) projected
  line L38 (-20.2013, 11.1035) -> (-20.641, 11.1451) projected
  line L39 (-20.641, 11.1451) -> (-21.2344, 9.9688) projected
  line L40 (-21.2344, 9.9688) -> (-20.9272, 9.6371) projected
  line L41 (-21.3656, 9.2486) -> (-23.4063, 11.4593) projected
  line L42 (-23.1527, 11.9688) -> (-20.1702, 11.694) projected
  line L43 (-19.469, 12.0936) -> (-21.9443, 13.7831) projected
  line L44 (-21.6218, 14.2557) -> (-19.6343, 12.8992) projected
  line L45 (-19.6343, 12.8992) -> (-18.8654, 14.0258) projected
  line L46 (-18.3775, 13.6927) -> (-19.469, 12.0936) projected
  circle A0 centre (0, 0) radius 20.9931 projected
  arc A1 (-26.1445, 9.9619) -> (-27.6227, 4.445) centre (0, 0) ccw projected
  arc A2 (-27.6227, 4.445) -> (-27.6227, -4.445) centre (0, 0) ccw projected
  arc A3 (-27.6227, -4.445) -> (-26.1445, -9.9619) centre (0, 0) ccw projected
  arc A4 (-26.1445, -9.9619) -> (-21.6995, -17.6609) centre (0, 0) ccw projected
  arc A5 (-21.6995, -17.6609) -> (-17.6609, -21.6995) centre (0, 0) ccw projected
  arc A6 (-17.6609, -21.6995) -> (-9.9619, -26.1445) centre (0, 0) ccw projected
  arc A7 (-9.9619, -26.1445) -> (-4.445, -27.6227) centre (0, 0) ccw projected
  arc A8 (-4.445, -27.6227) -> (4.445, -27.6227) centre (0, 0) ccw projected
  arc A9 (4.445, -27.6227) -> (9.9619, -26.1445) centre (0, 0) ccw projected
  arc A10 (9.9619, -26.1445) -> (17.6609, -21.6995) centre (0, 0) ccw projected
  arc A11 (17.6609, -21.6995) -> (21.6995, -17.6609) centre (0, 0) ccw projected
  arc A12 (21.6995, -17.6609) -> (26.1445, -9.9619) centre (0, 0) ccw projected
  arc A13 (26.1445, -9.9619) -> (27.6227, -4.445) centre (0, 0) ccw projected
  arc A14 (27.6227, -4.445) -> (27.6227, 4.445) centre (0, 0) ccw projected
  arc A15 (27.6227, 4.445) -> (26.1445, 9.9619) centre (0, 0) ccw projected
  arc A16 (26.1445, 9.9619) -> (21.6995, 17.6609) centre (0, 0) ccw projected
  arc A17 (21.6995, 17.6609) -> (17.6609, 21.6995) centre (0, 0) ccw projected
  arc A18 (17.6609, 21.6995) -> (9.9619, 26.1445) centre (0, 0) ccw projected
  arc A19 (9.9619, 26.1445) -> (4.445, 27.6227) centre (0, 0) ccw projected
  arc A20 (4.445, 27.6227) -> (-4.445, 27.6227) centre (0, 0) ccw projected
  arc A21 (-4.445, 27.6227) -> (-9.9619, 26.1445) centre (0, 0) ccw projected
  arc A22 (-9.9619, 26.1445) -> (-17.6609, 21.6995) centre (0, 0) ccw projected
  arc A23 (-17.6609, 21.6995) -> (-21.6995, 17.6609) centre (0, 0) ccw projected
  arc A24 (-21.6995, 17.6609) -> (-26.1445, 9.9619) centre (0, 0) ccw projected
  circle A25 centre (0, 0) radius 18.4531 projected
  circle A26 centre (0, 0) radius 20.9931 projected
  circle A27 centre (24.1681, -3.81) radius 1.27
  circle A28 centre (24.1681, -3.81) radius 0.635
  line L47 (30.5181, 2.54) -> (30.5181, -2.54) projected
  arc A29 (17.9659, -17.8891) -> (17.3155, -16.3716) centre (19.0881, -16.51) ccw
  line L48 (19.0881, -16.51) -> (15.2571, -18.1519) construction
  line L49 (18.7629, -15.7512) -> (17.3155, -16.3716)
  line L50 (17.9659, -17.8891) -> (19.4133, -17.2688)
  arc A30 (19.4133, -17.2688) -> (18.7629, -15.7512) centre (19.0881, -16.51) ccw
  line L51 (19.0881, -16.51) -> (24.1681, -3.81) construction
  line L52 (19.1153, -14.7322) -> (23.17, -4.5954)
  line L53 (20.2945, -15.2039) -> (24.3492, -5.067)
  line L54 (0, 0) -> (36.9495, 0) construction
  arc A31 (26.1445, 9.9619) -> (21.6995, 17.6609) centre (0, 0) ccw
  arc A32 (27.6227, 4.445) -> (26.1445, 9.9619) centre (0, 0) ccw
  circle A33 centre (24.1681, 3.81) radius 1.27
  circle A34 centre (24.1681, 3.81) radius 0.635
  arc A35 (17.3155, 16.3716) -> (17.9659, 17.8891) centre (19.0881, 16.51) ccw
  line L55 (19.0881, 16.51) -> (15.2571, 18.1519) construction
  line L56 (18.7629, 15.7512) -> (17.3155, 16.3716)
  line L57 (17.9659, 17.8891) -> (19.4133, 17.2688)
  arc A36 (18.7629, 15.7512) -> (19.4133, 17.2688) centre (19.0881, 16.51) ccw
  line L58 (19.0881, 16.51) -> (24.1681, 3.81) construction
  line L59 (19.1153, 14.7322) -> (23.17, 4.5954)
  line L60 (20.2945, 15.2039) -> (24.3492, 5.067)
  point P0 (-21.5649, 7.5235)
  point P1 (-22.3696, 6.8841)
  point P2 (-23.5751, 6.9445)
  point P3 (-24.6635, 7.7463)
  point P4 (-24.7419, 8.6136)
  point P5 (-23.8777, 9.3503)
  point P6 (-23.7301, 9.3422)
  point P7 (-23.5475, 8.9689)
  point P8 (-23.8083, 8.7903)
  point P9 (-24.1792, 8.4336)
  point P10 (-24.1002, 7.9585)
  point P11 (-23.3884, 7.4887)
  point P12 (-22.1197, 7.7269)
  point P13 (-22.1984, 8.336)
  point P14 (-22.2743, 8.6105)
  point P15 (-21.8902, 8.7959)
  point P16 (-21.7348, 8.6674)
  point P17 (-22.5223, 3.9742)
  point P18 (-22.7793, 2.0739)
  point P19 (-26.109, 2.5148)
  point P20 (-25.837, 4.3881)
  point P21 (-23.1539, 1.2367)
  point P22 (-22.8643, 0.9323)
  point P23 (-22.8505, -1.2295)
  point P24 (-23.1301, -1.5313)
  point P25 (-26.2222, -0.1963)
  point P26 (-22.015, -6.0818)
  point P27 (-22.313, -7.0655)
  point P28 (-23.3387, -7.7016)
  point P29 (-24.69, -7.6614)
  point P30 (-25.2479, -6.9928)
  point P31 (-24.9563, -5.8953)
  point P32 (-24.8303, -5.818)
  point P33 (-24.4678, -6.0211)
  point P34 (-24.5806, -6.3164)
  point P35 (-24.6827, -6.8207)
  point P36 (-24.3475, -7.1664)
  point P37 (-23.4948, -7.1479)
  point P38 (-22.587, -6.2301)
  point P39 (-22.9983, -5.774)
  point P40 (-23.2168, -5.5914)
  point P41 (-23.0064, -5.2204)
  point P42 (-22.8056, -5.2377)
  point P43 (-20.0767, -10.9844)
  point P44 (-20.7343, -13.0001)
  point P45 (-18.6529, -13.2822)
  point P46 (-22.0936, -15.3923)
  point P47 (-23.5248, -13.1355)
  point P48 (-24.2914, -9.06)
  point P49 (-23.1616, -8.6822)
  point P50 (-21.8023, -8.0057)
  point P51 (-22.7455, -2.435)
  point P52 (-22.4915, -4.1639)
  point P53 (-25.7963, -4.6494)
  point P54 (-26.0503, -2.9205)
  point P55 (-22.2419, 5.2711)
  point P56 (-25.4907, 6.0473)
  point P57 (-20.0417, 11.6603)
  point P58 (-19.9228, 11.2574)
  point P59 (-20.8965, 9.3272)
  point P60 (-21.2829, 9.1861)
  point P61 (-23.4258, 11.7844)
  point P62 (-22.0274, 14.188)
  point P63 (-18.4597, 14.1045)
  point P64 (17.1726, -17.3309)
  point P65 (17.1726, 17.3309)
  dimension "d19" = 2.54
  dimension "d20" = 0.635
  dimension "d22" = 3.81
  dimension "d23" = 6.35
  dimension "d24" = 3.556
  dimension "d25" = 135
  dimension "d26" = 1.27
  dimension "d27" = 0.635
  dimension "d28" = 12.7
  dimension "d29" = 5.08
  dimension "d30" = 1.651
extrude "Extrusion3" cut sketch "Sketch4" along normal through all contours A27 | A27 L53 A29 L52 | A29 L50 A30 L49 keep common part
fillet "Fillet1" radius 3.175 4 edges at (19.1153, 3.0642, 14.7322) (20.2945, 2.8973, 15.2039) (23.17, 3.1341, 4.5954) (24.3492, 2.9637, 5.067)
sketch "Sketch5" plane through (0, 1.27, 0) normal (0, -1, 0) x (1, 0, 0)
  circle A0 centre (24.1681, 3.81) radius 0.635 projected
  arc A1 (23.9074, 6.1716) -> (24.9359, 4.8216) centre (26.8553, 7.3508) ccw projected
  line L0 (20.8531, 13.8074) -> (23.9074, 6.1716) projected
  arc A2 (20.7799, 15.9631) -> (20.8531, 13.8074) centre (23.801, 14.9865) ccw projected
  arc A3 (20.7799, 15.9631) -> (17.9659, 17.8891) centre (19.0881, 16.51) ccw projected
  line L1 (19.4133, 17.2688) -> (17.9659, 17.8891) projected
  arc A4 (18.7629, 15.7512) -> (19.4133, 17.2688) centre (19.0881, 16.51) ccw projected
  line L2 (17.3155, 16.3716) -> (18.7629, 15.7512) projected
  arc A5 (17.3155, 16.3716) -> (18.2402, 14.9472) centre (19.0881, 16.51) ccw projected
  arc A6 (19.6739, 13.3357) -> (18.2402, 14.9472) centre (16.726, 12.1565) ccw projected
  line L3 (22.7282, 5.6999) -> (19.6739, 13.3357) projected
  arc A7 (22.9144, 4.0131) -> (22.7282, 5.6999) centre (19.7803, 4.5208) ccw projected
  arc A8 (22.9144, 4.0131) -> (24.9359, 4.8216) centre (24.1681, 3.81) ccw projected
  point P0 (0, 0)
extrude "Extrusion4" add sketch "Sketch5" along normal blind 0.5
equation "\"d27\" = 0.5 * d26"
properties part number "Team Pin Mechanical-Left Wrench"
